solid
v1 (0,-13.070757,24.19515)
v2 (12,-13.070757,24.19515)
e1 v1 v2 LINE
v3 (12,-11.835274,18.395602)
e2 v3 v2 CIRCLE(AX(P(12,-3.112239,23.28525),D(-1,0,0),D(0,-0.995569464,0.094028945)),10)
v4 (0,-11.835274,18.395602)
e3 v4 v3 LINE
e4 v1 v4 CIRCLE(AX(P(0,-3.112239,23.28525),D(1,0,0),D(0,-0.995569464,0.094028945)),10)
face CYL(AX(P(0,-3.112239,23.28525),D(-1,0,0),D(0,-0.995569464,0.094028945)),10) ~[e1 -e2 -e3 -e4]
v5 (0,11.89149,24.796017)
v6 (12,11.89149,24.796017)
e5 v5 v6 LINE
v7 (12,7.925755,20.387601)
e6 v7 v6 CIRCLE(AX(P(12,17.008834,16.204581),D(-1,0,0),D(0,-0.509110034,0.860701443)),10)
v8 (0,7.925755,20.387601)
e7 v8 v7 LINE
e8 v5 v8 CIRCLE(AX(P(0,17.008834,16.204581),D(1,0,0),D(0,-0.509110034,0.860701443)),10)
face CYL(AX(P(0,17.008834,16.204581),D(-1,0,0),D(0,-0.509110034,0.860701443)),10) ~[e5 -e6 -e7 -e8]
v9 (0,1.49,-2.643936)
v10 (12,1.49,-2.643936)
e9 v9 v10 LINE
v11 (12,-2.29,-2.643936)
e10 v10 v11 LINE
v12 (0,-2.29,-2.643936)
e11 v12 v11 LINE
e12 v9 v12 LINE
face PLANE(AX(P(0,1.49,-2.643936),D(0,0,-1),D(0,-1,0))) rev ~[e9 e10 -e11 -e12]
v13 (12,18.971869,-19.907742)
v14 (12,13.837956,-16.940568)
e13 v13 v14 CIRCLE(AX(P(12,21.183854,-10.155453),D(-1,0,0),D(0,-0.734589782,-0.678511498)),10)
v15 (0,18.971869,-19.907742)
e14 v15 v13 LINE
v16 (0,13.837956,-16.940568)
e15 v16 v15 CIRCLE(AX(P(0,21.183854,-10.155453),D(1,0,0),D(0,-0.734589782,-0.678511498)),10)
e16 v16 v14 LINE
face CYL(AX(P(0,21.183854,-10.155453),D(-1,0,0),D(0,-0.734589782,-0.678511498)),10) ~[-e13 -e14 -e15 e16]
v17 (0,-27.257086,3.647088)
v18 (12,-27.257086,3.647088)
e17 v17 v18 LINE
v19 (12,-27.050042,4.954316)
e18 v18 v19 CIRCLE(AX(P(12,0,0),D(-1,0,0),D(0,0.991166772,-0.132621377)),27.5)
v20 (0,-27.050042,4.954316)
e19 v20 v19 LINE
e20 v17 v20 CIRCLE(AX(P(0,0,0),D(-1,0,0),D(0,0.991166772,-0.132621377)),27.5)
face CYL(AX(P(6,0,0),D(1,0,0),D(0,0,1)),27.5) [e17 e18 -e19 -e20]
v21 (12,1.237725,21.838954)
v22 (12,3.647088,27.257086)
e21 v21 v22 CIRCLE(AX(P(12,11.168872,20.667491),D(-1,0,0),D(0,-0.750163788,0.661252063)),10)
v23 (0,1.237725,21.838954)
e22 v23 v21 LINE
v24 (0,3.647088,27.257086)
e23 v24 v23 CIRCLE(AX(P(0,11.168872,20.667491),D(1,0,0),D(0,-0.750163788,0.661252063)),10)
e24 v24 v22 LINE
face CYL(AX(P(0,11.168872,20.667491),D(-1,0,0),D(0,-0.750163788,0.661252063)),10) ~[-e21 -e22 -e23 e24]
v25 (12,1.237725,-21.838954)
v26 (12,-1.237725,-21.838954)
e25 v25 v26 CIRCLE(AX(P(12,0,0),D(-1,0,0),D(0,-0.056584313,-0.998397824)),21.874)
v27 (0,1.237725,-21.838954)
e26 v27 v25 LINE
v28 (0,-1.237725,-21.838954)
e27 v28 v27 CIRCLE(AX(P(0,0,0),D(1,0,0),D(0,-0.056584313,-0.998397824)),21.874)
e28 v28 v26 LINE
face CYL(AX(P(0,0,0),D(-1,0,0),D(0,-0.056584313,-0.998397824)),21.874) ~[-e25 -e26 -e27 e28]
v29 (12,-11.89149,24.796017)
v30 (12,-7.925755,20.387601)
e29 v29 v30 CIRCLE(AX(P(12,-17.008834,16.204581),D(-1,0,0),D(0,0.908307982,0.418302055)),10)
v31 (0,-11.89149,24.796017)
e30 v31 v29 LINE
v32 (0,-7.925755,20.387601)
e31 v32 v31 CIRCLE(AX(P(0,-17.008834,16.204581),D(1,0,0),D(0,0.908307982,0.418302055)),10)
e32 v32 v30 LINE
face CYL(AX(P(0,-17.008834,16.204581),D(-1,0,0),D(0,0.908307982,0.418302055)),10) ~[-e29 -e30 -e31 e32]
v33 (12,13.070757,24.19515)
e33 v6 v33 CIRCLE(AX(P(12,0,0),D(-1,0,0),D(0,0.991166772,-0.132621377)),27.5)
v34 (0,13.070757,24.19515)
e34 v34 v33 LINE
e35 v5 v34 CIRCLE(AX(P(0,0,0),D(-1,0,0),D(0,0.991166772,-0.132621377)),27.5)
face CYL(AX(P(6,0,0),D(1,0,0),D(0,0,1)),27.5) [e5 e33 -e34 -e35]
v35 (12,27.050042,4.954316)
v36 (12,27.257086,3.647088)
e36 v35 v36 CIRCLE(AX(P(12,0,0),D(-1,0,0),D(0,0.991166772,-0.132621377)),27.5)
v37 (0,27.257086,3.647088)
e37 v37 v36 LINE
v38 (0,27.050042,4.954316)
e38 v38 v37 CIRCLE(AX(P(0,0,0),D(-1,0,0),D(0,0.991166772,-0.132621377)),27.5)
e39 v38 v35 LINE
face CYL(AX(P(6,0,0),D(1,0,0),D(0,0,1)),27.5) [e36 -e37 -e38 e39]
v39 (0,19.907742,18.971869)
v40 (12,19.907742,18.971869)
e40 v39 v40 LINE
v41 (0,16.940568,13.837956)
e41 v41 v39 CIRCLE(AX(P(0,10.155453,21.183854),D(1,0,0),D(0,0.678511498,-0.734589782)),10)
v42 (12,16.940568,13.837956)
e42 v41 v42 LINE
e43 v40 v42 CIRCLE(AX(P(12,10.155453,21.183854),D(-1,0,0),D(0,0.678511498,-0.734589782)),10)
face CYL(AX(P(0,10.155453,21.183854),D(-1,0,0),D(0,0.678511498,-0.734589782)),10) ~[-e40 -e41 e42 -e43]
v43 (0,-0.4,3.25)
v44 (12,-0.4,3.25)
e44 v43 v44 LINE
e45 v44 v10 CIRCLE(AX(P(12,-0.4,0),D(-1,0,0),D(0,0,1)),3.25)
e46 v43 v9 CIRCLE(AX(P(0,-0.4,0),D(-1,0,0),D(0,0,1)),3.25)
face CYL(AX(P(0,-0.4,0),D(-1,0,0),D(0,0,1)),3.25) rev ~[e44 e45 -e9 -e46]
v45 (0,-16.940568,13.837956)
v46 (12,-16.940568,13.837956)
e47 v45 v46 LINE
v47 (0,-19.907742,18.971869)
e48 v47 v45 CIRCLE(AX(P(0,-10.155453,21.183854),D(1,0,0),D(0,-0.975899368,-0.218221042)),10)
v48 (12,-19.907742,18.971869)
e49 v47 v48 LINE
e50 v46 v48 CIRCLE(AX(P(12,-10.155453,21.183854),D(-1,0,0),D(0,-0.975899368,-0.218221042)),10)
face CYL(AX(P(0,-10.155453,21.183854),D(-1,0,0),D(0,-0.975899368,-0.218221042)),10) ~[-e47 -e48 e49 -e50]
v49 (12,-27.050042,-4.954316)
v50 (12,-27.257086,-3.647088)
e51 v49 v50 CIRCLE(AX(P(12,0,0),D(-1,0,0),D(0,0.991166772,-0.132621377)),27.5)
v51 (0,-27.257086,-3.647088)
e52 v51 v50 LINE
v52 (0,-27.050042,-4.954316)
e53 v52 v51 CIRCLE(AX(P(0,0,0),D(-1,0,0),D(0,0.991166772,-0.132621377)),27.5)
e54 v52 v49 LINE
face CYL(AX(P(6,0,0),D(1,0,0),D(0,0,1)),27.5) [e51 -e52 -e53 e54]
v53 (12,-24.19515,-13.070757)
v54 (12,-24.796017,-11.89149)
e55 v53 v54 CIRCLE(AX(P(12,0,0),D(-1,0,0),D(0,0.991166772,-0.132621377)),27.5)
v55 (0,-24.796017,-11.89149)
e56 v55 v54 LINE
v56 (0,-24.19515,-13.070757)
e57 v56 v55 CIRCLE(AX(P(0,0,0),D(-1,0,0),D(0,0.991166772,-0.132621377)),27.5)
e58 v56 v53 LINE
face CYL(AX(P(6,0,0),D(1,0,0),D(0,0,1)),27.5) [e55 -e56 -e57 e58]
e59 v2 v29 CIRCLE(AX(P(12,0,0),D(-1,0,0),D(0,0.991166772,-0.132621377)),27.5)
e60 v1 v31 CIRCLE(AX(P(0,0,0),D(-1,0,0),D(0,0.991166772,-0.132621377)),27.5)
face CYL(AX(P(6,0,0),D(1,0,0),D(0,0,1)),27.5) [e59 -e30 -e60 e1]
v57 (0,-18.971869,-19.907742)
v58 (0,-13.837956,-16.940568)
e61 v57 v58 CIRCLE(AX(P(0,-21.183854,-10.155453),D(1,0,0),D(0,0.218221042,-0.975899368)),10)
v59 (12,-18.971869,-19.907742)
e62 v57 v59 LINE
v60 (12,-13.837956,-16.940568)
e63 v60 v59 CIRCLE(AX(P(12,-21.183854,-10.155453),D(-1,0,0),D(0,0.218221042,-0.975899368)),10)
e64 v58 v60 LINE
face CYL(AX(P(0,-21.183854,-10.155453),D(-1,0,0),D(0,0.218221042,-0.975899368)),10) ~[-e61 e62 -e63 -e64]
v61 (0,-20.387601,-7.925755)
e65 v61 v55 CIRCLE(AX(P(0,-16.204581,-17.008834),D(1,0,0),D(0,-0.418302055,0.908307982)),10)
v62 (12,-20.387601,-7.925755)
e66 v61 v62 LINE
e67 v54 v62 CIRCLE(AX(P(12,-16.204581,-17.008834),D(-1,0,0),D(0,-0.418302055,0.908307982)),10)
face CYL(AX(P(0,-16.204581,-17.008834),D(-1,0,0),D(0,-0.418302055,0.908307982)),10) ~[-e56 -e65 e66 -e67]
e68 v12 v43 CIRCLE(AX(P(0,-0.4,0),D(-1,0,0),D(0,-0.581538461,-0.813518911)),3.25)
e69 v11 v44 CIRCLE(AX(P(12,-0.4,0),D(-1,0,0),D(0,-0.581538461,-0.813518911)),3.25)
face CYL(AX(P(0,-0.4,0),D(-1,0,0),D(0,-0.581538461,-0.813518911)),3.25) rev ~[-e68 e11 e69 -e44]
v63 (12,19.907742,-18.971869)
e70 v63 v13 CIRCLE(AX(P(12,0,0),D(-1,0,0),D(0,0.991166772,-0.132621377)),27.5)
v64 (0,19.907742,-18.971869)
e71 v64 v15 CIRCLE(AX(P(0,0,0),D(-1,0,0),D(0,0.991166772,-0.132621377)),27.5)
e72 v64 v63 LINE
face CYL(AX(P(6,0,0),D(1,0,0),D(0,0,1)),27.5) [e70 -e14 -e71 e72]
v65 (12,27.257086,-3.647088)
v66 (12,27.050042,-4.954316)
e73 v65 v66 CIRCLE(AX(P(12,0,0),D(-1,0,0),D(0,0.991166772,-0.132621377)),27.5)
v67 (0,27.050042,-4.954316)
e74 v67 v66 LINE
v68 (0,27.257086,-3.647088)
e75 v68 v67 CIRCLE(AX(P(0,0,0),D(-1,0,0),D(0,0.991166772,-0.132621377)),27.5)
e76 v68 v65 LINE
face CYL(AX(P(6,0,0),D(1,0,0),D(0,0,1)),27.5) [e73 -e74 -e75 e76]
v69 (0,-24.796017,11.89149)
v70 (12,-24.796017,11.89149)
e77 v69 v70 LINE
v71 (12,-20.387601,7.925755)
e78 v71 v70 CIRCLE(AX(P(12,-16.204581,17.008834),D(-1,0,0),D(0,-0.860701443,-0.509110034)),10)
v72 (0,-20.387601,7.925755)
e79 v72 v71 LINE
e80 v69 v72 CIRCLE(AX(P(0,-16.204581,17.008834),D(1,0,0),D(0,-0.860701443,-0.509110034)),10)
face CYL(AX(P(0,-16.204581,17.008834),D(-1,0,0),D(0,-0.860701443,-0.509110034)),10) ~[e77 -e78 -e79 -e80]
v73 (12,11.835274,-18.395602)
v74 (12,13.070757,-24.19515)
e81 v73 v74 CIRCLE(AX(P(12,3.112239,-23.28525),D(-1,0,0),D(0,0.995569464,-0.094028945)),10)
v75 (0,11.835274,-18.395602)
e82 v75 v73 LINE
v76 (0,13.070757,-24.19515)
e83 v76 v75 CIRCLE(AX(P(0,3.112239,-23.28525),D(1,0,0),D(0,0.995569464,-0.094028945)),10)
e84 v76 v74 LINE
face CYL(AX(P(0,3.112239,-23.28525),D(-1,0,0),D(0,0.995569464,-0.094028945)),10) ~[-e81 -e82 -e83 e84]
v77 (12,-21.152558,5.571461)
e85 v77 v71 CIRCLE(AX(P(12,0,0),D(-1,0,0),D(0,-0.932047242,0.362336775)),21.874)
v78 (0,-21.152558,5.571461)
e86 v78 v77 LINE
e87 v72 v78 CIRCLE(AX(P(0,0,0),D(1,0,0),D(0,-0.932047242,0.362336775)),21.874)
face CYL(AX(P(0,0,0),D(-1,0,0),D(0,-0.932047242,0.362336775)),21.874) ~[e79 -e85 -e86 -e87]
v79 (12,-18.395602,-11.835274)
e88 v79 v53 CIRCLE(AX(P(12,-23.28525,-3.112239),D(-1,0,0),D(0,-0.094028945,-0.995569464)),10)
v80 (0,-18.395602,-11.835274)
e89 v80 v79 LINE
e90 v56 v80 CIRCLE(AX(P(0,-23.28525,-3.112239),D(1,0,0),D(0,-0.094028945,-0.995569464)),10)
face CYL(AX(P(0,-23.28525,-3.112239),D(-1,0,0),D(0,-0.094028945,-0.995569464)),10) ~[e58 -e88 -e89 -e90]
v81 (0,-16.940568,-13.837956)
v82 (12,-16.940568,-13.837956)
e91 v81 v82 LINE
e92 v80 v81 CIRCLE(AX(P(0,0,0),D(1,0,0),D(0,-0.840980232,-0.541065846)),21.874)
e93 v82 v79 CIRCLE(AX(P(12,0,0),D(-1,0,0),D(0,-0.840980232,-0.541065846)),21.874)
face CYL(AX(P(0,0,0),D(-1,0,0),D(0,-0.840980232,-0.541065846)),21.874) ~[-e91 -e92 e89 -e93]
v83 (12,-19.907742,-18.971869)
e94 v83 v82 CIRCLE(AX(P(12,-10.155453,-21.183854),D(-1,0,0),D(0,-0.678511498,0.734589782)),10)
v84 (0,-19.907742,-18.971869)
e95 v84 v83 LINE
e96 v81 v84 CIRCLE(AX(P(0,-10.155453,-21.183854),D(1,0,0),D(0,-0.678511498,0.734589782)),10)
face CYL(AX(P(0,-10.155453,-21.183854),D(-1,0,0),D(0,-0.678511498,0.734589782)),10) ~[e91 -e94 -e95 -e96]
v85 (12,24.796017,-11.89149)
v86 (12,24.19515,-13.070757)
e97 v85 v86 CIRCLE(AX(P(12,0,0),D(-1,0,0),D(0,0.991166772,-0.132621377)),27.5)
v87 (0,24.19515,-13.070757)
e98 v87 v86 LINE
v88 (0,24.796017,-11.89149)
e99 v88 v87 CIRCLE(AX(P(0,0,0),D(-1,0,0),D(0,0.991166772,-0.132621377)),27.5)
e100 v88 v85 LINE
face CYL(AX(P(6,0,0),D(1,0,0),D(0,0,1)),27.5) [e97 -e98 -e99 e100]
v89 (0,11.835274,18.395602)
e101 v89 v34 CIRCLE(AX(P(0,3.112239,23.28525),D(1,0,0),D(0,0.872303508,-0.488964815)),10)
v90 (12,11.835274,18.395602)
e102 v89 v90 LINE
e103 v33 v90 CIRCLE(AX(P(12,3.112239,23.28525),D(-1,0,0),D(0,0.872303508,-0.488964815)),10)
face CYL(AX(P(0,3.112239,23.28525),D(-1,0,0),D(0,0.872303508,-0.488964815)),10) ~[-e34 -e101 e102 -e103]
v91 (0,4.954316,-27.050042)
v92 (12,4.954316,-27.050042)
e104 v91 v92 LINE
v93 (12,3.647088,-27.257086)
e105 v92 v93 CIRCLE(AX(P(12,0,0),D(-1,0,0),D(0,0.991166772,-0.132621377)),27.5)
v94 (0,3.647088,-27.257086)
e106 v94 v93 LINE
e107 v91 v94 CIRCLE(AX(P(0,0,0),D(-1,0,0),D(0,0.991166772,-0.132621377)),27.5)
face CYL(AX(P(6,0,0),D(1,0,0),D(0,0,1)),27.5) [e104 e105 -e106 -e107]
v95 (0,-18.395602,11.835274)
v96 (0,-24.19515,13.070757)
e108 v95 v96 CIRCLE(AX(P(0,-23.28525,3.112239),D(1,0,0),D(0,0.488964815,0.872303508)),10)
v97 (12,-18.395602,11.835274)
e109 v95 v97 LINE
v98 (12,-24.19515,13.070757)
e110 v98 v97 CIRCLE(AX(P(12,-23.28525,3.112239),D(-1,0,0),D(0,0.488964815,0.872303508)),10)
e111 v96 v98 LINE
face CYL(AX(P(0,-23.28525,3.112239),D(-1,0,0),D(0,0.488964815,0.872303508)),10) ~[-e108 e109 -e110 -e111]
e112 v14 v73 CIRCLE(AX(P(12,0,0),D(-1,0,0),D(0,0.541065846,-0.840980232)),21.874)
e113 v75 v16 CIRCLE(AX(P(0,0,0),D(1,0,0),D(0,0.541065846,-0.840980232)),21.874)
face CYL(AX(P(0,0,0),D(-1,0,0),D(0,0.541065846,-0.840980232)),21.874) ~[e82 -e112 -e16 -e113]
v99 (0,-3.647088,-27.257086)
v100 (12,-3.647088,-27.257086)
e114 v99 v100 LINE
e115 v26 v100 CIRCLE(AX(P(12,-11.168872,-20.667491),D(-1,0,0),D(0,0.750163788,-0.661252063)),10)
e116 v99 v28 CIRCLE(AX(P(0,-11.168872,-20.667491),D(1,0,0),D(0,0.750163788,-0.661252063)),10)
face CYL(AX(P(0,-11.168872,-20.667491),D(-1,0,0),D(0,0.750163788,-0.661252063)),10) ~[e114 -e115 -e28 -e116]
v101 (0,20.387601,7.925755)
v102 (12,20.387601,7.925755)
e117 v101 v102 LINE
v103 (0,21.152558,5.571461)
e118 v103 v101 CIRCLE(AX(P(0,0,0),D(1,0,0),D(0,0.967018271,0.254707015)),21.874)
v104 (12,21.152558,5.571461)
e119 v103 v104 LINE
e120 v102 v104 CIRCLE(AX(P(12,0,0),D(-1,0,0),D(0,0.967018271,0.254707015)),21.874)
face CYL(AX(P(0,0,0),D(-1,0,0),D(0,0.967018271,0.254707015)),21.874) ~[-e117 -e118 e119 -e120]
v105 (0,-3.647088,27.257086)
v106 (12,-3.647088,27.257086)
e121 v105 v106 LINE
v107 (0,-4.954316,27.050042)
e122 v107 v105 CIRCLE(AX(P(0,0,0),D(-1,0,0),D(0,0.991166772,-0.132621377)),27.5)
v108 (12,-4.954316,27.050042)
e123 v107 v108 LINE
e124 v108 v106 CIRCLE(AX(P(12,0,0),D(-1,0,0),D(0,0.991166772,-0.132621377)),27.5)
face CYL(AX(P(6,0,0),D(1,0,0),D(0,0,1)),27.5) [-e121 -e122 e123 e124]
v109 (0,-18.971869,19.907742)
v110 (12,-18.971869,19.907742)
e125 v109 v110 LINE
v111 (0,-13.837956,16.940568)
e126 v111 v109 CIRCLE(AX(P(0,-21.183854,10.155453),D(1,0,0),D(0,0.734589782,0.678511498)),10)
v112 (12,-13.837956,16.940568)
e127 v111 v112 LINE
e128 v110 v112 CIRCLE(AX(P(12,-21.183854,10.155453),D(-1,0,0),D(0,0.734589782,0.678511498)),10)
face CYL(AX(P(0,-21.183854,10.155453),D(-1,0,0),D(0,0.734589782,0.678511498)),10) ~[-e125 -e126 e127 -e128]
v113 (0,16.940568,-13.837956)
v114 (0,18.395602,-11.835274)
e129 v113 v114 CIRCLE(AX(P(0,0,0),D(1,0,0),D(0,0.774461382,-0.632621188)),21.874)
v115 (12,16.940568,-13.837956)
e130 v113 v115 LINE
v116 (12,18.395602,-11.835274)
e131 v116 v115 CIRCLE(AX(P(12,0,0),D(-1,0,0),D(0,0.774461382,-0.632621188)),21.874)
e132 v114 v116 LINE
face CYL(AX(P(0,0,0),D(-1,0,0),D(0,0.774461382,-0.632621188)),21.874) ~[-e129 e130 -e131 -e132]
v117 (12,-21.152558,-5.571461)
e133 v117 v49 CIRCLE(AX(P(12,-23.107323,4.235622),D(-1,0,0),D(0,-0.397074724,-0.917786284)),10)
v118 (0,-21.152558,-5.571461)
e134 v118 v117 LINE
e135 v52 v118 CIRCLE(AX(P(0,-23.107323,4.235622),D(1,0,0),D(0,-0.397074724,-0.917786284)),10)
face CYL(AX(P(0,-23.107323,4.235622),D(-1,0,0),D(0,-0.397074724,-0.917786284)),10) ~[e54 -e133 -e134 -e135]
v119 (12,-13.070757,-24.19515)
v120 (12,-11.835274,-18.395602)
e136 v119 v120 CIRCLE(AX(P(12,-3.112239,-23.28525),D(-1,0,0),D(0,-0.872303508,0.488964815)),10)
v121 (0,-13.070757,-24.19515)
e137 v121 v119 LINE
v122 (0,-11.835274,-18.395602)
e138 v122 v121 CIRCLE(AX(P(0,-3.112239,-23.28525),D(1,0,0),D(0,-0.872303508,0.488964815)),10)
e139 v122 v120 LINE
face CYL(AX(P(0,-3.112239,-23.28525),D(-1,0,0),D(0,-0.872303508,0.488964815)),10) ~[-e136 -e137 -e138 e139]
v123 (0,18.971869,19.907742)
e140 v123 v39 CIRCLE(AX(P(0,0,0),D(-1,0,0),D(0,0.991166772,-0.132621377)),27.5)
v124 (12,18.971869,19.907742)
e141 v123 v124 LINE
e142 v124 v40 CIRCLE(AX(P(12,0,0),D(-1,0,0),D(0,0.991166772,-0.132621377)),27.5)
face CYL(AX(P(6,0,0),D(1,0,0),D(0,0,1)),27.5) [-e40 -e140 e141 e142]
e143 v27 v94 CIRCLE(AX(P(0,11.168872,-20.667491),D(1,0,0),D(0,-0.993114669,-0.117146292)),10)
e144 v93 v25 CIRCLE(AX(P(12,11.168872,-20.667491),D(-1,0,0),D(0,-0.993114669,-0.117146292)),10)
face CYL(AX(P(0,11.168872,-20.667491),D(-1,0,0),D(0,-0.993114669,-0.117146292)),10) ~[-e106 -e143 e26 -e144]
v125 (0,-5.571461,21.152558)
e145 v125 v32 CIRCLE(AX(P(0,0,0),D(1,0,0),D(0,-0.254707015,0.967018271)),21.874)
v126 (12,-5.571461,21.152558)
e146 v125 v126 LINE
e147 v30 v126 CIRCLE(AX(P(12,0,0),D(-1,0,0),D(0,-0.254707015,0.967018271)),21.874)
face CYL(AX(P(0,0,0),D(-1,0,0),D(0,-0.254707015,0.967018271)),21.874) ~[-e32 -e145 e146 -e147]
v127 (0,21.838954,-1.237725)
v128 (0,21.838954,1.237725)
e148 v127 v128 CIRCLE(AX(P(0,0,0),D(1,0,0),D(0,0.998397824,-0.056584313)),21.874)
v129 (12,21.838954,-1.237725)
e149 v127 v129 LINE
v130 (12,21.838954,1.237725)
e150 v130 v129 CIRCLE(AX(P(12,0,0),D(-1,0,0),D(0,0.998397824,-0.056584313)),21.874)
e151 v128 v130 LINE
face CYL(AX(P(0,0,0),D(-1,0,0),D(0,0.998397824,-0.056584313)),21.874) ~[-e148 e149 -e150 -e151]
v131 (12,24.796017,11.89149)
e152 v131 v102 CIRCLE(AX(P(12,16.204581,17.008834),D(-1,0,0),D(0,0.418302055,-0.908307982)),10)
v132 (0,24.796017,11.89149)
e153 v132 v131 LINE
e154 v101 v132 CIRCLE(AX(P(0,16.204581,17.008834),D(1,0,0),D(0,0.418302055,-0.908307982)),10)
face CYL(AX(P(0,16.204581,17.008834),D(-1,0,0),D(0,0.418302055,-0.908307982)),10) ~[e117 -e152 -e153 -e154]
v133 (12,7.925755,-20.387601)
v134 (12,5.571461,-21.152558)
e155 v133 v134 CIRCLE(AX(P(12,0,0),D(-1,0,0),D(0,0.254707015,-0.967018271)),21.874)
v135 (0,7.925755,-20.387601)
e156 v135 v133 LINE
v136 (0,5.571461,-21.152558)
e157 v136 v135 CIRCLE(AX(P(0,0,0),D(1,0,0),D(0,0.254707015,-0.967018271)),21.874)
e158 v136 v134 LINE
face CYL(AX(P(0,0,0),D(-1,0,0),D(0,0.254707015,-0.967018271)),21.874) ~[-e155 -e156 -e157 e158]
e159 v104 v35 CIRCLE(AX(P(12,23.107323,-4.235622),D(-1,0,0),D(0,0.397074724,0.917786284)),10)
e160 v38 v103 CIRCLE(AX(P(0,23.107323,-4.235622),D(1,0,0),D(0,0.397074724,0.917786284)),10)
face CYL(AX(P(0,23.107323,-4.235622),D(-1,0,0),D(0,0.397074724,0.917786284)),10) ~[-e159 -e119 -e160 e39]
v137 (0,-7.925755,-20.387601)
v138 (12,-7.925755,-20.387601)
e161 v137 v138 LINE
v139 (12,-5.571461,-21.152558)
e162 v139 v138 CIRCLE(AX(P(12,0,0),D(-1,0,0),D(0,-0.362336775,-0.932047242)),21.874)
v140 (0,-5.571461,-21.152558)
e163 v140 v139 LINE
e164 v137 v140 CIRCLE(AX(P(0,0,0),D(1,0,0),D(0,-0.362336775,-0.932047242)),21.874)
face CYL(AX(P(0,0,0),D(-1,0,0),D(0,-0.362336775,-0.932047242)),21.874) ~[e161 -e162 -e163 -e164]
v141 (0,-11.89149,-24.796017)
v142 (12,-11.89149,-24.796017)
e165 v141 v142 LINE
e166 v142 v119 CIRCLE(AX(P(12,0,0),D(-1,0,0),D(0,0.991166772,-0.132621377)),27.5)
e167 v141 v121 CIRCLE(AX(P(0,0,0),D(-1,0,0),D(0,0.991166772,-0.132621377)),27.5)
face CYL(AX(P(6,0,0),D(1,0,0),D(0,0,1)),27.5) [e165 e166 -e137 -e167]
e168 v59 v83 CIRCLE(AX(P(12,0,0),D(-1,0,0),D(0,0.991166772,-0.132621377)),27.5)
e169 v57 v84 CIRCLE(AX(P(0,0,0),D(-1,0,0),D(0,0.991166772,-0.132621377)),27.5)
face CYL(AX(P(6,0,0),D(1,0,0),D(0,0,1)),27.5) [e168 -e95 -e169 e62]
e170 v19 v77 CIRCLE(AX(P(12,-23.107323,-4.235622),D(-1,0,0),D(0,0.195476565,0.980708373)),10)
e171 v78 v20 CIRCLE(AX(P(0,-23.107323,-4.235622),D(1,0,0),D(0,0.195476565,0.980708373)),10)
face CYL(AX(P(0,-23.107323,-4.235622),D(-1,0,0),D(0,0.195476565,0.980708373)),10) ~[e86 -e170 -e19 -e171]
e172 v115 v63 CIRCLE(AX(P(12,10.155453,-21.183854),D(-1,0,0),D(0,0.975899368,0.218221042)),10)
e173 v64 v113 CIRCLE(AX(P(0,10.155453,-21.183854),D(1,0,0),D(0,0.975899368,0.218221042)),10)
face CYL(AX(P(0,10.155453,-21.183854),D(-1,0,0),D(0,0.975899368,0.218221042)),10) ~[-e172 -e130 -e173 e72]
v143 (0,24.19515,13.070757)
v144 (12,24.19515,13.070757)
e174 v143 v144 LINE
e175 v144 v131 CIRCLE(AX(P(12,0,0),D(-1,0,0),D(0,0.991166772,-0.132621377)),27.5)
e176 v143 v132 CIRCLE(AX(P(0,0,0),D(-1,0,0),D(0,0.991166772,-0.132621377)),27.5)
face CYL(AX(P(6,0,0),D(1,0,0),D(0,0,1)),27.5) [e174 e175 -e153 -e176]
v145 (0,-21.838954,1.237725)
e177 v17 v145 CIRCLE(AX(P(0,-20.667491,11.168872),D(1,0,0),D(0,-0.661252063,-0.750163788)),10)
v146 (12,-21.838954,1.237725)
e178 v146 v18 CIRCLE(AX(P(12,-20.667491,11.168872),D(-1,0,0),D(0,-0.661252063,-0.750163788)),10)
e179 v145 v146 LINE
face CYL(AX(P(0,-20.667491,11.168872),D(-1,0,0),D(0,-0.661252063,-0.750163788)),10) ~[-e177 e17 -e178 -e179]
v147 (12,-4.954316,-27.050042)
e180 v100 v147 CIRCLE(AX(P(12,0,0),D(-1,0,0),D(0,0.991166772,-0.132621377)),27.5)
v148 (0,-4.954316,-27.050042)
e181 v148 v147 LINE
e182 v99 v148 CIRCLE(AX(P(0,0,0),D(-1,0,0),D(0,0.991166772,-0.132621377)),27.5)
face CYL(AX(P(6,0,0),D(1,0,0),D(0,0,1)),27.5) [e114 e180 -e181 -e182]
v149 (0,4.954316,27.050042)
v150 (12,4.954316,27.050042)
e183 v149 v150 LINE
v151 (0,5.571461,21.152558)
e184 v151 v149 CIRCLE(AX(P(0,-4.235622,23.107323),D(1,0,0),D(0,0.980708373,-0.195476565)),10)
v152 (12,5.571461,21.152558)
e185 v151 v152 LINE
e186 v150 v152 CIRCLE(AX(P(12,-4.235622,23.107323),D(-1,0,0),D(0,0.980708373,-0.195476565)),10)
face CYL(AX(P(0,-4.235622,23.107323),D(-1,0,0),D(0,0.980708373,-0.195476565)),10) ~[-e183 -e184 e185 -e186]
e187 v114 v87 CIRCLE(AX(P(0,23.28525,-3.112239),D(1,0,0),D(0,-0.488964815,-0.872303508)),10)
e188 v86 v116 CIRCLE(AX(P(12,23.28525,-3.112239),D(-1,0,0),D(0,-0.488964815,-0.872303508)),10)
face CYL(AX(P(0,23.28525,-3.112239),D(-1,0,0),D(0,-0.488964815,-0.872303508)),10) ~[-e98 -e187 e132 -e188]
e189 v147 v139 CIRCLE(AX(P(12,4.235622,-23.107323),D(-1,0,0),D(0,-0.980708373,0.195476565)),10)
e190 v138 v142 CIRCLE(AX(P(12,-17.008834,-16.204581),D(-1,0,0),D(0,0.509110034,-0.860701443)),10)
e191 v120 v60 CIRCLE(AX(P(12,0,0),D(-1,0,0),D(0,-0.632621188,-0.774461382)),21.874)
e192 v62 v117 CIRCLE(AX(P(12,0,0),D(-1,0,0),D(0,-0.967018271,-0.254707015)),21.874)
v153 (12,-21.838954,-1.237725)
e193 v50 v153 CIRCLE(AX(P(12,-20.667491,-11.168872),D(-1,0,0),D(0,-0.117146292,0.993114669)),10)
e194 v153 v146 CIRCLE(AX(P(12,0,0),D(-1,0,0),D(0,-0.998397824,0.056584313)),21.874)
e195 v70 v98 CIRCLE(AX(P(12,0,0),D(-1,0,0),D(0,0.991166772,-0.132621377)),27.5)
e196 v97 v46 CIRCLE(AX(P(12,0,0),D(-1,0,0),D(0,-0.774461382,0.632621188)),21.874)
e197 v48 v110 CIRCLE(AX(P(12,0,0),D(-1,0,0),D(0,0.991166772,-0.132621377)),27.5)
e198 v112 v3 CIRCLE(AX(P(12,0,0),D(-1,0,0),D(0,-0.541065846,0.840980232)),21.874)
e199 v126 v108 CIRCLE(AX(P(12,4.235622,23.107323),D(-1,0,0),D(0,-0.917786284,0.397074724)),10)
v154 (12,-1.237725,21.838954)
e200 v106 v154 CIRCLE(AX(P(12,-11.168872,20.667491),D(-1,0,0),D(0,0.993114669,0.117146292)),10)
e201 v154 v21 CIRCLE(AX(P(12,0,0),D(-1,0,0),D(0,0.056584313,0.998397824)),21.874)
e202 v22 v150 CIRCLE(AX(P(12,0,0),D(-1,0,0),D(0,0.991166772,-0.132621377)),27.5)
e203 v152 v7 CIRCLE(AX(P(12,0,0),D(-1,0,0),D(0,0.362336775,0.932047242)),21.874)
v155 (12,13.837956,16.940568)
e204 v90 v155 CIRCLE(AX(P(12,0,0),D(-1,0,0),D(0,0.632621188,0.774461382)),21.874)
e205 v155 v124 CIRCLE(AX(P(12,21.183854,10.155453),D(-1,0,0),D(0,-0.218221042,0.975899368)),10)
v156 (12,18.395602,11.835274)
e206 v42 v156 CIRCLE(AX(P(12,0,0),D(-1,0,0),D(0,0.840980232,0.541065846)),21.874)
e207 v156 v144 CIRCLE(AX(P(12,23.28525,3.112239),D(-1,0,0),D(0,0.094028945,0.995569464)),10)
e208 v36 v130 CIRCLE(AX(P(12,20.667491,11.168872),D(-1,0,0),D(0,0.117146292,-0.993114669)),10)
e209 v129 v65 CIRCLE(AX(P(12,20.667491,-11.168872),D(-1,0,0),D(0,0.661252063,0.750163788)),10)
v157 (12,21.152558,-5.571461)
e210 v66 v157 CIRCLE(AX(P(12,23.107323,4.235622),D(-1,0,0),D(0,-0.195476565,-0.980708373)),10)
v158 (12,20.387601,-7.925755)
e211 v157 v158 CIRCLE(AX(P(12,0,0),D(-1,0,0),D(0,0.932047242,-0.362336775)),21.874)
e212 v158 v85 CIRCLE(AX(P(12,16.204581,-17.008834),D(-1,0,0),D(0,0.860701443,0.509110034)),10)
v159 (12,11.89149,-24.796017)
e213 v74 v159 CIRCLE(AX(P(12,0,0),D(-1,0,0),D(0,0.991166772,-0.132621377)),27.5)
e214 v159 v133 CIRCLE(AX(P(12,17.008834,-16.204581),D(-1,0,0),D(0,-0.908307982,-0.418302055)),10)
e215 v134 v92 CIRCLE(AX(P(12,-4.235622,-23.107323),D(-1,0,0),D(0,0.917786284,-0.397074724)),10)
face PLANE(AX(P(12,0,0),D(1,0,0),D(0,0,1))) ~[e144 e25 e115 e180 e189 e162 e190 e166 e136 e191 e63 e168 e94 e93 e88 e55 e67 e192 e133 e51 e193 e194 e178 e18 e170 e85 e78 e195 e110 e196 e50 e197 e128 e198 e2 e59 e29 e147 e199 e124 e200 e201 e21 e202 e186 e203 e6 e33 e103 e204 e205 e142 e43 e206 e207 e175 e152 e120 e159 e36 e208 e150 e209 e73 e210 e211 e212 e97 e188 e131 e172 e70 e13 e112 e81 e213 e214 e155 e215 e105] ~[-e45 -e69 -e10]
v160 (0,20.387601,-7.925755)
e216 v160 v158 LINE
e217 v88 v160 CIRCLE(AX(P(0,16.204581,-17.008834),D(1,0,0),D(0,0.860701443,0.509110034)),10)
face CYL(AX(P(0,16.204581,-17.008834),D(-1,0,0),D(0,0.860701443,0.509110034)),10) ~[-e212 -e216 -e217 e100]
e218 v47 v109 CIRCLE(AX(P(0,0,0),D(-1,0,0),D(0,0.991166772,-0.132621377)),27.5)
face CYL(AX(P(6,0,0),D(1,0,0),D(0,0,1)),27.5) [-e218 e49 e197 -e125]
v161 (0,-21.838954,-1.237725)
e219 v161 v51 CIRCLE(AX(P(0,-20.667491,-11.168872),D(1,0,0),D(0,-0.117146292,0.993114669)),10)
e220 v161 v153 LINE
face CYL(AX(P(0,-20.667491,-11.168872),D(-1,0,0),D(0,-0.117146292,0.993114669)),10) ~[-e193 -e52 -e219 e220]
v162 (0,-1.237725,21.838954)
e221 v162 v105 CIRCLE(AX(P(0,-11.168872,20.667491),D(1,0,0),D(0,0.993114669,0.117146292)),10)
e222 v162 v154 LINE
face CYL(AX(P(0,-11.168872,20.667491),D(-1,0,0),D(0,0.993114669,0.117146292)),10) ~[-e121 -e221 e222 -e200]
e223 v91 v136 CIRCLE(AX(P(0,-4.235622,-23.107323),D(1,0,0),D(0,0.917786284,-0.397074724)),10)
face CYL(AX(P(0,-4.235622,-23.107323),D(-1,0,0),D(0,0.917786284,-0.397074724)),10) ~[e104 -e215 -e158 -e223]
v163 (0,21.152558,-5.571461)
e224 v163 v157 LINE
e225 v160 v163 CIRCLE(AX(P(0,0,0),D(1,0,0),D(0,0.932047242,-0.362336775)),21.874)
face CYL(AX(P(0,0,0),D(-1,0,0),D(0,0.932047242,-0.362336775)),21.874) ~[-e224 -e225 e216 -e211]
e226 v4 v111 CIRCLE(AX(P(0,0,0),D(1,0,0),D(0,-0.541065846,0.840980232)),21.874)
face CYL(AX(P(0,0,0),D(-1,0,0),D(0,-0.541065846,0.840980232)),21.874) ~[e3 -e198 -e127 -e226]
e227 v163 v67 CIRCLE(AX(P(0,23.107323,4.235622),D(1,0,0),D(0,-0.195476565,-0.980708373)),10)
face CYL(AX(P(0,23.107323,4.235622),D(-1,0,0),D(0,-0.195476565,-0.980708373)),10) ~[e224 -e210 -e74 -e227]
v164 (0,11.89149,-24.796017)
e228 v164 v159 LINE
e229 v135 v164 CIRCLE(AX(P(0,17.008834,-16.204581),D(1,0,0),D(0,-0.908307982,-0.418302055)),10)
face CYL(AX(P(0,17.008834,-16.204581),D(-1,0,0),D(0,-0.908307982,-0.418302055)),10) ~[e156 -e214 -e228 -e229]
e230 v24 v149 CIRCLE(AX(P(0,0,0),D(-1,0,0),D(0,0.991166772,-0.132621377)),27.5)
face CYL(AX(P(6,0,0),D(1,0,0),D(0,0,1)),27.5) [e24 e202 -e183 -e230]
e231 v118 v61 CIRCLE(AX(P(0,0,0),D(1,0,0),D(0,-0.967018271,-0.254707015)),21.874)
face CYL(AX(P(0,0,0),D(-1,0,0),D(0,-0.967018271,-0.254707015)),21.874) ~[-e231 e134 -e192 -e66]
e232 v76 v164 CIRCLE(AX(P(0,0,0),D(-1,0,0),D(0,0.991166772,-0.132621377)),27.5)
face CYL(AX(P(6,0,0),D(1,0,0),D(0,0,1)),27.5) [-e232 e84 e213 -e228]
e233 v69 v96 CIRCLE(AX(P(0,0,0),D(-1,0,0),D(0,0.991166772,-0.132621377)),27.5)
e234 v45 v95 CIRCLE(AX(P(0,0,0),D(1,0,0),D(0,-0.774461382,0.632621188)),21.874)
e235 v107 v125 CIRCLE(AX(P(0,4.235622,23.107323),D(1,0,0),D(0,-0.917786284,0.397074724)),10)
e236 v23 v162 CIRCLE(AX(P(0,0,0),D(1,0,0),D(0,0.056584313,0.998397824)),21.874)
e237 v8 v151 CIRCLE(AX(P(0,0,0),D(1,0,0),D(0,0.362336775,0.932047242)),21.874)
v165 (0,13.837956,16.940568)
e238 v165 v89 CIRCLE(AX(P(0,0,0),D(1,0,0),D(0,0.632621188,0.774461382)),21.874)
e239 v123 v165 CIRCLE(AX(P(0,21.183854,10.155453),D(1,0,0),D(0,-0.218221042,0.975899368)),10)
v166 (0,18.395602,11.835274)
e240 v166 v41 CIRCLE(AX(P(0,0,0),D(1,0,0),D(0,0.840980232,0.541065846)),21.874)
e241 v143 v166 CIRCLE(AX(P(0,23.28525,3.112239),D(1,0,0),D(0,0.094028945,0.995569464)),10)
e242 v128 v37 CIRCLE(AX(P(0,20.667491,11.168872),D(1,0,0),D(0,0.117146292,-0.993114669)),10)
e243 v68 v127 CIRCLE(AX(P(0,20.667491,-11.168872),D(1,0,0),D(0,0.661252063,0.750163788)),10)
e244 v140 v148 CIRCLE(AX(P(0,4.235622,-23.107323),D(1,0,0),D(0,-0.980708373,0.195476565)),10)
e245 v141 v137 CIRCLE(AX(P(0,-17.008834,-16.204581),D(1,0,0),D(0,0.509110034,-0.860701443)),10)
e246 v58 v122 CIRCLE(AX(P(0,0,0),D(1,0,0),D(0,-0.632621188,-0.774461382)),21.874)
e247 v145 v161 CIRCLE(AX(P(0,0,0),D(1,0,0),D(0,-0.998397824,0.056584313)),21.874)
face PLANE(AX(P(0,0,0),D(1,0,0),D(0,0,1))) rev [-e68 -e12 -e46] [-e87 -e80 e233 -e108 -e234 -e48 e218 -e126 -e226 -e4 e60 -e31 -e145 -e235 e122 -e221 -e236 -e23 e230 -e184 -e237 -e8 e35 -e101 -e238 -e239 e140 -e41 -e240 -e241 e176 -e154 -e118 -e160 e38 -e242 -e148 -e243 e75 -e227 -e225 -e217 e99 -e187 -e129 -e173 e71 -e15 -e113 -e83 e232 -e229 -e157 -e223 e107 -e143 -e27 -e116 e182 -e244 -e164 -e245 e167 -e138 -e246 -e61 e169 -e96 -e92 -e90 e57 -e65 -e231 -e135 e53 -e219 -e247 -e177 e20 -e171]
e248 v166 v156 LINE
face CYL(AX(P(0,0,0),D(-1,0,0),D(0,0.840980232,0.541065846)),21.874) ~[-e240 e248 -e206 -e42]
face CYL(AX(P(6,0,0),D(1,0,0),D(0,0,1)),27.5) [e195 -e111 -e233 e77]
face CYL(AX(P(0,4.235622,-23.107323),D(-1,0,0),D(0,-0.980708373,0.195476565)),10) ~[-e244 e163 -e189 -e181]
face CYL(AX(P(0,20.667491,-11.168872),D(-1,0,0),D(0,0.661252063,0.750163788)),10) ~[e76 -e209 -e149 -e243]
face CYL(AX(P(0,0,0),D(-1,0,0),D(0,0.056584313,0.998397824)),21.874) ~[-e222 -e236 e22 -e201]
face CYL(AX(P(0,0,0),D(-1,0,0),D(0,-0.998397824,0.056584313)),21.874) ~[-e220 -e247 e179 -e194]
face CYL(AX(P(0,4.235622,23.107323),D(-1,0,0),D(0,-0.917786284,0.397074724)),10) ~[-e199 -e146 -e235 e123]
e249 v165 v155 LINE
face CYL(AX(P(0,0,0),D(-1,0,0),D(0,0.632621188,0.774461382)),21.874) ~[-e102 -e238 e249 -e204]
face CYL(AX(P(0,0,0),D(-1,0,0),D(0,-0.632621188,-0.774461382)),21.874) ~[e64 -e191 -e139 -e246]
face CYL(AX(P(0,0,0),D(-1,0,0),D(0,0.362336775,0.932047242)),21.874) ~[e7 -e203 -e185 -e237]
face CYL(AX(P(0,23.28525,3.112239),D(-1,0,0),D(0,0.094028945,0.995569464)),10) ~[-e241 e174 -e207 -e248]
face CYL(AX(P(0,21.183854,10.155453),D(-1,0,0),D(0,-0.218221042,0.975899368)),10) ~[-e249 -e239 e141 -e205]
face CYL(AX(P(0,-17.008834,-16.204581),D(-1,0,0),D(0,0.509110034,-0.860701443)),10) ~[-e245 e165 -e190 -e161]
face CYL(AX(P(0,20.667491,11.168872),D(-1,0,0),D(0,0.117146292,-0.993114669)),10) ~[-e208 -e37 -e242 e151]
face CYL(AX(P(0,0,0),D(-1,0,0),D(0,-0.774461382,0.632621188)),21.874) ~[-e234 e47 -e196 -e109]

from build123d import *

# Parameters (mm, degrees)
BASPROSKE_W           = 12
BASPROSKE_H           = 27.5
TOOTHCUT_DEPTH        = 41.70012285
TEETHCUTS_COUNT       = 20
TEETHCUTS_ANGLE       = 342
BORSKE_R              = 0.4
BORE_DEPTH            = 50.0000508
KES_EKSTR_ZYON1_DEPTH = 100


with BuildPart() as part:
    # BasProSke → Base-Revolve (revolve)
    with BuildSketch(Plane(origin=(0, 0, 0), x_dir=(1, 0, 0), z_dir=(0, 1, 0)), mode=Mode.PRIVATE) as base_revolve_sk:
        with Locations((6, 13.75)):
            Rectangle(BASPROSKE_W, BASPROSKE_H)
    revolve(base_revolve_sk.sketch.rotate(Axis((-10, 0, 0), (1, 0, 0)), 180), axis=Axis((-10, 0, 0), (1, 0, 0)))

    # TooCutSke → ToothCut (cut, through all)
    with BuildSketch(Plane(origin=(0, 0, 0), x_dir=(0, 0, -1), z_dir=(1, 0, 0))):
        with BuildLine():
            ThreePointArc((1.237725267, 21.838954008), (0, 21.874), (-1.237725267, 21.838954008))
            ThreePointArc((-1.237725267, 21.838954008), (-2.037783758, 24.744650423), (-3.667234079, 27.280011719))
            ThreePointArc((-3.667234079, 27.280011719), (0, 27.5254), (3.667234079, 27.280011719))
            ThreePointArc((3.667234079, 27.280011719), (2.037783758, 24.744650423), (1.237725267, 21.838954008))
        make_face()
    toothcut = extrude(amount=TOOTHCUT_DEPTH, mode=Mode.SUBTRACT)

    # TeethCuts: ToothCut ×20 about axis
    teethcuts_axis = Axis((-10, 0, 0), (1, 0, 0))
    for i in range(1, TEETHCUTS_COUNT):
        add(toothcut.rotate(teethcuts_axis, i * TEETHCUTS_ANGLE / (TEETHCUTS_COUNT - 1)), mode=Mode.SUBTRACT)

    # BorSke → Bore (cut, symmetric)
    with BuildSketch(Plane(origin=(0, 0, 0), x_dir=(0, 0, -1), z_dir=(1, 0, 0))):
        with Locations(Location((0, 0, 0), (0, 0, 180))):
            Circle(BORSKE_R)
    extrude(amount=BORE_DEPTH, both=True, mode=Mode.SUBTRACT)

    # Çizim1 → Kes-Ekstrüzyon1 (cut)
    with BuildSketch(Plane.ZY):
        with BuildLine():
            ThreePointArc((3.25, -0.4), (0.99239773, 2.694777334), (-2.643936459, 1.49))
            Line((-2.643936459, 1.49), (-2.643936459, -2.29))
            ThreePointArc((-2.643936459, -2.29), (0.99239773, -3.494777334), (3.25, -0.4))
        make_face()
    extrude(amount=-KES_EKSTR_ZYON1_DEPTH, mode=Mode.SUBTRACT)


solid = part.part
